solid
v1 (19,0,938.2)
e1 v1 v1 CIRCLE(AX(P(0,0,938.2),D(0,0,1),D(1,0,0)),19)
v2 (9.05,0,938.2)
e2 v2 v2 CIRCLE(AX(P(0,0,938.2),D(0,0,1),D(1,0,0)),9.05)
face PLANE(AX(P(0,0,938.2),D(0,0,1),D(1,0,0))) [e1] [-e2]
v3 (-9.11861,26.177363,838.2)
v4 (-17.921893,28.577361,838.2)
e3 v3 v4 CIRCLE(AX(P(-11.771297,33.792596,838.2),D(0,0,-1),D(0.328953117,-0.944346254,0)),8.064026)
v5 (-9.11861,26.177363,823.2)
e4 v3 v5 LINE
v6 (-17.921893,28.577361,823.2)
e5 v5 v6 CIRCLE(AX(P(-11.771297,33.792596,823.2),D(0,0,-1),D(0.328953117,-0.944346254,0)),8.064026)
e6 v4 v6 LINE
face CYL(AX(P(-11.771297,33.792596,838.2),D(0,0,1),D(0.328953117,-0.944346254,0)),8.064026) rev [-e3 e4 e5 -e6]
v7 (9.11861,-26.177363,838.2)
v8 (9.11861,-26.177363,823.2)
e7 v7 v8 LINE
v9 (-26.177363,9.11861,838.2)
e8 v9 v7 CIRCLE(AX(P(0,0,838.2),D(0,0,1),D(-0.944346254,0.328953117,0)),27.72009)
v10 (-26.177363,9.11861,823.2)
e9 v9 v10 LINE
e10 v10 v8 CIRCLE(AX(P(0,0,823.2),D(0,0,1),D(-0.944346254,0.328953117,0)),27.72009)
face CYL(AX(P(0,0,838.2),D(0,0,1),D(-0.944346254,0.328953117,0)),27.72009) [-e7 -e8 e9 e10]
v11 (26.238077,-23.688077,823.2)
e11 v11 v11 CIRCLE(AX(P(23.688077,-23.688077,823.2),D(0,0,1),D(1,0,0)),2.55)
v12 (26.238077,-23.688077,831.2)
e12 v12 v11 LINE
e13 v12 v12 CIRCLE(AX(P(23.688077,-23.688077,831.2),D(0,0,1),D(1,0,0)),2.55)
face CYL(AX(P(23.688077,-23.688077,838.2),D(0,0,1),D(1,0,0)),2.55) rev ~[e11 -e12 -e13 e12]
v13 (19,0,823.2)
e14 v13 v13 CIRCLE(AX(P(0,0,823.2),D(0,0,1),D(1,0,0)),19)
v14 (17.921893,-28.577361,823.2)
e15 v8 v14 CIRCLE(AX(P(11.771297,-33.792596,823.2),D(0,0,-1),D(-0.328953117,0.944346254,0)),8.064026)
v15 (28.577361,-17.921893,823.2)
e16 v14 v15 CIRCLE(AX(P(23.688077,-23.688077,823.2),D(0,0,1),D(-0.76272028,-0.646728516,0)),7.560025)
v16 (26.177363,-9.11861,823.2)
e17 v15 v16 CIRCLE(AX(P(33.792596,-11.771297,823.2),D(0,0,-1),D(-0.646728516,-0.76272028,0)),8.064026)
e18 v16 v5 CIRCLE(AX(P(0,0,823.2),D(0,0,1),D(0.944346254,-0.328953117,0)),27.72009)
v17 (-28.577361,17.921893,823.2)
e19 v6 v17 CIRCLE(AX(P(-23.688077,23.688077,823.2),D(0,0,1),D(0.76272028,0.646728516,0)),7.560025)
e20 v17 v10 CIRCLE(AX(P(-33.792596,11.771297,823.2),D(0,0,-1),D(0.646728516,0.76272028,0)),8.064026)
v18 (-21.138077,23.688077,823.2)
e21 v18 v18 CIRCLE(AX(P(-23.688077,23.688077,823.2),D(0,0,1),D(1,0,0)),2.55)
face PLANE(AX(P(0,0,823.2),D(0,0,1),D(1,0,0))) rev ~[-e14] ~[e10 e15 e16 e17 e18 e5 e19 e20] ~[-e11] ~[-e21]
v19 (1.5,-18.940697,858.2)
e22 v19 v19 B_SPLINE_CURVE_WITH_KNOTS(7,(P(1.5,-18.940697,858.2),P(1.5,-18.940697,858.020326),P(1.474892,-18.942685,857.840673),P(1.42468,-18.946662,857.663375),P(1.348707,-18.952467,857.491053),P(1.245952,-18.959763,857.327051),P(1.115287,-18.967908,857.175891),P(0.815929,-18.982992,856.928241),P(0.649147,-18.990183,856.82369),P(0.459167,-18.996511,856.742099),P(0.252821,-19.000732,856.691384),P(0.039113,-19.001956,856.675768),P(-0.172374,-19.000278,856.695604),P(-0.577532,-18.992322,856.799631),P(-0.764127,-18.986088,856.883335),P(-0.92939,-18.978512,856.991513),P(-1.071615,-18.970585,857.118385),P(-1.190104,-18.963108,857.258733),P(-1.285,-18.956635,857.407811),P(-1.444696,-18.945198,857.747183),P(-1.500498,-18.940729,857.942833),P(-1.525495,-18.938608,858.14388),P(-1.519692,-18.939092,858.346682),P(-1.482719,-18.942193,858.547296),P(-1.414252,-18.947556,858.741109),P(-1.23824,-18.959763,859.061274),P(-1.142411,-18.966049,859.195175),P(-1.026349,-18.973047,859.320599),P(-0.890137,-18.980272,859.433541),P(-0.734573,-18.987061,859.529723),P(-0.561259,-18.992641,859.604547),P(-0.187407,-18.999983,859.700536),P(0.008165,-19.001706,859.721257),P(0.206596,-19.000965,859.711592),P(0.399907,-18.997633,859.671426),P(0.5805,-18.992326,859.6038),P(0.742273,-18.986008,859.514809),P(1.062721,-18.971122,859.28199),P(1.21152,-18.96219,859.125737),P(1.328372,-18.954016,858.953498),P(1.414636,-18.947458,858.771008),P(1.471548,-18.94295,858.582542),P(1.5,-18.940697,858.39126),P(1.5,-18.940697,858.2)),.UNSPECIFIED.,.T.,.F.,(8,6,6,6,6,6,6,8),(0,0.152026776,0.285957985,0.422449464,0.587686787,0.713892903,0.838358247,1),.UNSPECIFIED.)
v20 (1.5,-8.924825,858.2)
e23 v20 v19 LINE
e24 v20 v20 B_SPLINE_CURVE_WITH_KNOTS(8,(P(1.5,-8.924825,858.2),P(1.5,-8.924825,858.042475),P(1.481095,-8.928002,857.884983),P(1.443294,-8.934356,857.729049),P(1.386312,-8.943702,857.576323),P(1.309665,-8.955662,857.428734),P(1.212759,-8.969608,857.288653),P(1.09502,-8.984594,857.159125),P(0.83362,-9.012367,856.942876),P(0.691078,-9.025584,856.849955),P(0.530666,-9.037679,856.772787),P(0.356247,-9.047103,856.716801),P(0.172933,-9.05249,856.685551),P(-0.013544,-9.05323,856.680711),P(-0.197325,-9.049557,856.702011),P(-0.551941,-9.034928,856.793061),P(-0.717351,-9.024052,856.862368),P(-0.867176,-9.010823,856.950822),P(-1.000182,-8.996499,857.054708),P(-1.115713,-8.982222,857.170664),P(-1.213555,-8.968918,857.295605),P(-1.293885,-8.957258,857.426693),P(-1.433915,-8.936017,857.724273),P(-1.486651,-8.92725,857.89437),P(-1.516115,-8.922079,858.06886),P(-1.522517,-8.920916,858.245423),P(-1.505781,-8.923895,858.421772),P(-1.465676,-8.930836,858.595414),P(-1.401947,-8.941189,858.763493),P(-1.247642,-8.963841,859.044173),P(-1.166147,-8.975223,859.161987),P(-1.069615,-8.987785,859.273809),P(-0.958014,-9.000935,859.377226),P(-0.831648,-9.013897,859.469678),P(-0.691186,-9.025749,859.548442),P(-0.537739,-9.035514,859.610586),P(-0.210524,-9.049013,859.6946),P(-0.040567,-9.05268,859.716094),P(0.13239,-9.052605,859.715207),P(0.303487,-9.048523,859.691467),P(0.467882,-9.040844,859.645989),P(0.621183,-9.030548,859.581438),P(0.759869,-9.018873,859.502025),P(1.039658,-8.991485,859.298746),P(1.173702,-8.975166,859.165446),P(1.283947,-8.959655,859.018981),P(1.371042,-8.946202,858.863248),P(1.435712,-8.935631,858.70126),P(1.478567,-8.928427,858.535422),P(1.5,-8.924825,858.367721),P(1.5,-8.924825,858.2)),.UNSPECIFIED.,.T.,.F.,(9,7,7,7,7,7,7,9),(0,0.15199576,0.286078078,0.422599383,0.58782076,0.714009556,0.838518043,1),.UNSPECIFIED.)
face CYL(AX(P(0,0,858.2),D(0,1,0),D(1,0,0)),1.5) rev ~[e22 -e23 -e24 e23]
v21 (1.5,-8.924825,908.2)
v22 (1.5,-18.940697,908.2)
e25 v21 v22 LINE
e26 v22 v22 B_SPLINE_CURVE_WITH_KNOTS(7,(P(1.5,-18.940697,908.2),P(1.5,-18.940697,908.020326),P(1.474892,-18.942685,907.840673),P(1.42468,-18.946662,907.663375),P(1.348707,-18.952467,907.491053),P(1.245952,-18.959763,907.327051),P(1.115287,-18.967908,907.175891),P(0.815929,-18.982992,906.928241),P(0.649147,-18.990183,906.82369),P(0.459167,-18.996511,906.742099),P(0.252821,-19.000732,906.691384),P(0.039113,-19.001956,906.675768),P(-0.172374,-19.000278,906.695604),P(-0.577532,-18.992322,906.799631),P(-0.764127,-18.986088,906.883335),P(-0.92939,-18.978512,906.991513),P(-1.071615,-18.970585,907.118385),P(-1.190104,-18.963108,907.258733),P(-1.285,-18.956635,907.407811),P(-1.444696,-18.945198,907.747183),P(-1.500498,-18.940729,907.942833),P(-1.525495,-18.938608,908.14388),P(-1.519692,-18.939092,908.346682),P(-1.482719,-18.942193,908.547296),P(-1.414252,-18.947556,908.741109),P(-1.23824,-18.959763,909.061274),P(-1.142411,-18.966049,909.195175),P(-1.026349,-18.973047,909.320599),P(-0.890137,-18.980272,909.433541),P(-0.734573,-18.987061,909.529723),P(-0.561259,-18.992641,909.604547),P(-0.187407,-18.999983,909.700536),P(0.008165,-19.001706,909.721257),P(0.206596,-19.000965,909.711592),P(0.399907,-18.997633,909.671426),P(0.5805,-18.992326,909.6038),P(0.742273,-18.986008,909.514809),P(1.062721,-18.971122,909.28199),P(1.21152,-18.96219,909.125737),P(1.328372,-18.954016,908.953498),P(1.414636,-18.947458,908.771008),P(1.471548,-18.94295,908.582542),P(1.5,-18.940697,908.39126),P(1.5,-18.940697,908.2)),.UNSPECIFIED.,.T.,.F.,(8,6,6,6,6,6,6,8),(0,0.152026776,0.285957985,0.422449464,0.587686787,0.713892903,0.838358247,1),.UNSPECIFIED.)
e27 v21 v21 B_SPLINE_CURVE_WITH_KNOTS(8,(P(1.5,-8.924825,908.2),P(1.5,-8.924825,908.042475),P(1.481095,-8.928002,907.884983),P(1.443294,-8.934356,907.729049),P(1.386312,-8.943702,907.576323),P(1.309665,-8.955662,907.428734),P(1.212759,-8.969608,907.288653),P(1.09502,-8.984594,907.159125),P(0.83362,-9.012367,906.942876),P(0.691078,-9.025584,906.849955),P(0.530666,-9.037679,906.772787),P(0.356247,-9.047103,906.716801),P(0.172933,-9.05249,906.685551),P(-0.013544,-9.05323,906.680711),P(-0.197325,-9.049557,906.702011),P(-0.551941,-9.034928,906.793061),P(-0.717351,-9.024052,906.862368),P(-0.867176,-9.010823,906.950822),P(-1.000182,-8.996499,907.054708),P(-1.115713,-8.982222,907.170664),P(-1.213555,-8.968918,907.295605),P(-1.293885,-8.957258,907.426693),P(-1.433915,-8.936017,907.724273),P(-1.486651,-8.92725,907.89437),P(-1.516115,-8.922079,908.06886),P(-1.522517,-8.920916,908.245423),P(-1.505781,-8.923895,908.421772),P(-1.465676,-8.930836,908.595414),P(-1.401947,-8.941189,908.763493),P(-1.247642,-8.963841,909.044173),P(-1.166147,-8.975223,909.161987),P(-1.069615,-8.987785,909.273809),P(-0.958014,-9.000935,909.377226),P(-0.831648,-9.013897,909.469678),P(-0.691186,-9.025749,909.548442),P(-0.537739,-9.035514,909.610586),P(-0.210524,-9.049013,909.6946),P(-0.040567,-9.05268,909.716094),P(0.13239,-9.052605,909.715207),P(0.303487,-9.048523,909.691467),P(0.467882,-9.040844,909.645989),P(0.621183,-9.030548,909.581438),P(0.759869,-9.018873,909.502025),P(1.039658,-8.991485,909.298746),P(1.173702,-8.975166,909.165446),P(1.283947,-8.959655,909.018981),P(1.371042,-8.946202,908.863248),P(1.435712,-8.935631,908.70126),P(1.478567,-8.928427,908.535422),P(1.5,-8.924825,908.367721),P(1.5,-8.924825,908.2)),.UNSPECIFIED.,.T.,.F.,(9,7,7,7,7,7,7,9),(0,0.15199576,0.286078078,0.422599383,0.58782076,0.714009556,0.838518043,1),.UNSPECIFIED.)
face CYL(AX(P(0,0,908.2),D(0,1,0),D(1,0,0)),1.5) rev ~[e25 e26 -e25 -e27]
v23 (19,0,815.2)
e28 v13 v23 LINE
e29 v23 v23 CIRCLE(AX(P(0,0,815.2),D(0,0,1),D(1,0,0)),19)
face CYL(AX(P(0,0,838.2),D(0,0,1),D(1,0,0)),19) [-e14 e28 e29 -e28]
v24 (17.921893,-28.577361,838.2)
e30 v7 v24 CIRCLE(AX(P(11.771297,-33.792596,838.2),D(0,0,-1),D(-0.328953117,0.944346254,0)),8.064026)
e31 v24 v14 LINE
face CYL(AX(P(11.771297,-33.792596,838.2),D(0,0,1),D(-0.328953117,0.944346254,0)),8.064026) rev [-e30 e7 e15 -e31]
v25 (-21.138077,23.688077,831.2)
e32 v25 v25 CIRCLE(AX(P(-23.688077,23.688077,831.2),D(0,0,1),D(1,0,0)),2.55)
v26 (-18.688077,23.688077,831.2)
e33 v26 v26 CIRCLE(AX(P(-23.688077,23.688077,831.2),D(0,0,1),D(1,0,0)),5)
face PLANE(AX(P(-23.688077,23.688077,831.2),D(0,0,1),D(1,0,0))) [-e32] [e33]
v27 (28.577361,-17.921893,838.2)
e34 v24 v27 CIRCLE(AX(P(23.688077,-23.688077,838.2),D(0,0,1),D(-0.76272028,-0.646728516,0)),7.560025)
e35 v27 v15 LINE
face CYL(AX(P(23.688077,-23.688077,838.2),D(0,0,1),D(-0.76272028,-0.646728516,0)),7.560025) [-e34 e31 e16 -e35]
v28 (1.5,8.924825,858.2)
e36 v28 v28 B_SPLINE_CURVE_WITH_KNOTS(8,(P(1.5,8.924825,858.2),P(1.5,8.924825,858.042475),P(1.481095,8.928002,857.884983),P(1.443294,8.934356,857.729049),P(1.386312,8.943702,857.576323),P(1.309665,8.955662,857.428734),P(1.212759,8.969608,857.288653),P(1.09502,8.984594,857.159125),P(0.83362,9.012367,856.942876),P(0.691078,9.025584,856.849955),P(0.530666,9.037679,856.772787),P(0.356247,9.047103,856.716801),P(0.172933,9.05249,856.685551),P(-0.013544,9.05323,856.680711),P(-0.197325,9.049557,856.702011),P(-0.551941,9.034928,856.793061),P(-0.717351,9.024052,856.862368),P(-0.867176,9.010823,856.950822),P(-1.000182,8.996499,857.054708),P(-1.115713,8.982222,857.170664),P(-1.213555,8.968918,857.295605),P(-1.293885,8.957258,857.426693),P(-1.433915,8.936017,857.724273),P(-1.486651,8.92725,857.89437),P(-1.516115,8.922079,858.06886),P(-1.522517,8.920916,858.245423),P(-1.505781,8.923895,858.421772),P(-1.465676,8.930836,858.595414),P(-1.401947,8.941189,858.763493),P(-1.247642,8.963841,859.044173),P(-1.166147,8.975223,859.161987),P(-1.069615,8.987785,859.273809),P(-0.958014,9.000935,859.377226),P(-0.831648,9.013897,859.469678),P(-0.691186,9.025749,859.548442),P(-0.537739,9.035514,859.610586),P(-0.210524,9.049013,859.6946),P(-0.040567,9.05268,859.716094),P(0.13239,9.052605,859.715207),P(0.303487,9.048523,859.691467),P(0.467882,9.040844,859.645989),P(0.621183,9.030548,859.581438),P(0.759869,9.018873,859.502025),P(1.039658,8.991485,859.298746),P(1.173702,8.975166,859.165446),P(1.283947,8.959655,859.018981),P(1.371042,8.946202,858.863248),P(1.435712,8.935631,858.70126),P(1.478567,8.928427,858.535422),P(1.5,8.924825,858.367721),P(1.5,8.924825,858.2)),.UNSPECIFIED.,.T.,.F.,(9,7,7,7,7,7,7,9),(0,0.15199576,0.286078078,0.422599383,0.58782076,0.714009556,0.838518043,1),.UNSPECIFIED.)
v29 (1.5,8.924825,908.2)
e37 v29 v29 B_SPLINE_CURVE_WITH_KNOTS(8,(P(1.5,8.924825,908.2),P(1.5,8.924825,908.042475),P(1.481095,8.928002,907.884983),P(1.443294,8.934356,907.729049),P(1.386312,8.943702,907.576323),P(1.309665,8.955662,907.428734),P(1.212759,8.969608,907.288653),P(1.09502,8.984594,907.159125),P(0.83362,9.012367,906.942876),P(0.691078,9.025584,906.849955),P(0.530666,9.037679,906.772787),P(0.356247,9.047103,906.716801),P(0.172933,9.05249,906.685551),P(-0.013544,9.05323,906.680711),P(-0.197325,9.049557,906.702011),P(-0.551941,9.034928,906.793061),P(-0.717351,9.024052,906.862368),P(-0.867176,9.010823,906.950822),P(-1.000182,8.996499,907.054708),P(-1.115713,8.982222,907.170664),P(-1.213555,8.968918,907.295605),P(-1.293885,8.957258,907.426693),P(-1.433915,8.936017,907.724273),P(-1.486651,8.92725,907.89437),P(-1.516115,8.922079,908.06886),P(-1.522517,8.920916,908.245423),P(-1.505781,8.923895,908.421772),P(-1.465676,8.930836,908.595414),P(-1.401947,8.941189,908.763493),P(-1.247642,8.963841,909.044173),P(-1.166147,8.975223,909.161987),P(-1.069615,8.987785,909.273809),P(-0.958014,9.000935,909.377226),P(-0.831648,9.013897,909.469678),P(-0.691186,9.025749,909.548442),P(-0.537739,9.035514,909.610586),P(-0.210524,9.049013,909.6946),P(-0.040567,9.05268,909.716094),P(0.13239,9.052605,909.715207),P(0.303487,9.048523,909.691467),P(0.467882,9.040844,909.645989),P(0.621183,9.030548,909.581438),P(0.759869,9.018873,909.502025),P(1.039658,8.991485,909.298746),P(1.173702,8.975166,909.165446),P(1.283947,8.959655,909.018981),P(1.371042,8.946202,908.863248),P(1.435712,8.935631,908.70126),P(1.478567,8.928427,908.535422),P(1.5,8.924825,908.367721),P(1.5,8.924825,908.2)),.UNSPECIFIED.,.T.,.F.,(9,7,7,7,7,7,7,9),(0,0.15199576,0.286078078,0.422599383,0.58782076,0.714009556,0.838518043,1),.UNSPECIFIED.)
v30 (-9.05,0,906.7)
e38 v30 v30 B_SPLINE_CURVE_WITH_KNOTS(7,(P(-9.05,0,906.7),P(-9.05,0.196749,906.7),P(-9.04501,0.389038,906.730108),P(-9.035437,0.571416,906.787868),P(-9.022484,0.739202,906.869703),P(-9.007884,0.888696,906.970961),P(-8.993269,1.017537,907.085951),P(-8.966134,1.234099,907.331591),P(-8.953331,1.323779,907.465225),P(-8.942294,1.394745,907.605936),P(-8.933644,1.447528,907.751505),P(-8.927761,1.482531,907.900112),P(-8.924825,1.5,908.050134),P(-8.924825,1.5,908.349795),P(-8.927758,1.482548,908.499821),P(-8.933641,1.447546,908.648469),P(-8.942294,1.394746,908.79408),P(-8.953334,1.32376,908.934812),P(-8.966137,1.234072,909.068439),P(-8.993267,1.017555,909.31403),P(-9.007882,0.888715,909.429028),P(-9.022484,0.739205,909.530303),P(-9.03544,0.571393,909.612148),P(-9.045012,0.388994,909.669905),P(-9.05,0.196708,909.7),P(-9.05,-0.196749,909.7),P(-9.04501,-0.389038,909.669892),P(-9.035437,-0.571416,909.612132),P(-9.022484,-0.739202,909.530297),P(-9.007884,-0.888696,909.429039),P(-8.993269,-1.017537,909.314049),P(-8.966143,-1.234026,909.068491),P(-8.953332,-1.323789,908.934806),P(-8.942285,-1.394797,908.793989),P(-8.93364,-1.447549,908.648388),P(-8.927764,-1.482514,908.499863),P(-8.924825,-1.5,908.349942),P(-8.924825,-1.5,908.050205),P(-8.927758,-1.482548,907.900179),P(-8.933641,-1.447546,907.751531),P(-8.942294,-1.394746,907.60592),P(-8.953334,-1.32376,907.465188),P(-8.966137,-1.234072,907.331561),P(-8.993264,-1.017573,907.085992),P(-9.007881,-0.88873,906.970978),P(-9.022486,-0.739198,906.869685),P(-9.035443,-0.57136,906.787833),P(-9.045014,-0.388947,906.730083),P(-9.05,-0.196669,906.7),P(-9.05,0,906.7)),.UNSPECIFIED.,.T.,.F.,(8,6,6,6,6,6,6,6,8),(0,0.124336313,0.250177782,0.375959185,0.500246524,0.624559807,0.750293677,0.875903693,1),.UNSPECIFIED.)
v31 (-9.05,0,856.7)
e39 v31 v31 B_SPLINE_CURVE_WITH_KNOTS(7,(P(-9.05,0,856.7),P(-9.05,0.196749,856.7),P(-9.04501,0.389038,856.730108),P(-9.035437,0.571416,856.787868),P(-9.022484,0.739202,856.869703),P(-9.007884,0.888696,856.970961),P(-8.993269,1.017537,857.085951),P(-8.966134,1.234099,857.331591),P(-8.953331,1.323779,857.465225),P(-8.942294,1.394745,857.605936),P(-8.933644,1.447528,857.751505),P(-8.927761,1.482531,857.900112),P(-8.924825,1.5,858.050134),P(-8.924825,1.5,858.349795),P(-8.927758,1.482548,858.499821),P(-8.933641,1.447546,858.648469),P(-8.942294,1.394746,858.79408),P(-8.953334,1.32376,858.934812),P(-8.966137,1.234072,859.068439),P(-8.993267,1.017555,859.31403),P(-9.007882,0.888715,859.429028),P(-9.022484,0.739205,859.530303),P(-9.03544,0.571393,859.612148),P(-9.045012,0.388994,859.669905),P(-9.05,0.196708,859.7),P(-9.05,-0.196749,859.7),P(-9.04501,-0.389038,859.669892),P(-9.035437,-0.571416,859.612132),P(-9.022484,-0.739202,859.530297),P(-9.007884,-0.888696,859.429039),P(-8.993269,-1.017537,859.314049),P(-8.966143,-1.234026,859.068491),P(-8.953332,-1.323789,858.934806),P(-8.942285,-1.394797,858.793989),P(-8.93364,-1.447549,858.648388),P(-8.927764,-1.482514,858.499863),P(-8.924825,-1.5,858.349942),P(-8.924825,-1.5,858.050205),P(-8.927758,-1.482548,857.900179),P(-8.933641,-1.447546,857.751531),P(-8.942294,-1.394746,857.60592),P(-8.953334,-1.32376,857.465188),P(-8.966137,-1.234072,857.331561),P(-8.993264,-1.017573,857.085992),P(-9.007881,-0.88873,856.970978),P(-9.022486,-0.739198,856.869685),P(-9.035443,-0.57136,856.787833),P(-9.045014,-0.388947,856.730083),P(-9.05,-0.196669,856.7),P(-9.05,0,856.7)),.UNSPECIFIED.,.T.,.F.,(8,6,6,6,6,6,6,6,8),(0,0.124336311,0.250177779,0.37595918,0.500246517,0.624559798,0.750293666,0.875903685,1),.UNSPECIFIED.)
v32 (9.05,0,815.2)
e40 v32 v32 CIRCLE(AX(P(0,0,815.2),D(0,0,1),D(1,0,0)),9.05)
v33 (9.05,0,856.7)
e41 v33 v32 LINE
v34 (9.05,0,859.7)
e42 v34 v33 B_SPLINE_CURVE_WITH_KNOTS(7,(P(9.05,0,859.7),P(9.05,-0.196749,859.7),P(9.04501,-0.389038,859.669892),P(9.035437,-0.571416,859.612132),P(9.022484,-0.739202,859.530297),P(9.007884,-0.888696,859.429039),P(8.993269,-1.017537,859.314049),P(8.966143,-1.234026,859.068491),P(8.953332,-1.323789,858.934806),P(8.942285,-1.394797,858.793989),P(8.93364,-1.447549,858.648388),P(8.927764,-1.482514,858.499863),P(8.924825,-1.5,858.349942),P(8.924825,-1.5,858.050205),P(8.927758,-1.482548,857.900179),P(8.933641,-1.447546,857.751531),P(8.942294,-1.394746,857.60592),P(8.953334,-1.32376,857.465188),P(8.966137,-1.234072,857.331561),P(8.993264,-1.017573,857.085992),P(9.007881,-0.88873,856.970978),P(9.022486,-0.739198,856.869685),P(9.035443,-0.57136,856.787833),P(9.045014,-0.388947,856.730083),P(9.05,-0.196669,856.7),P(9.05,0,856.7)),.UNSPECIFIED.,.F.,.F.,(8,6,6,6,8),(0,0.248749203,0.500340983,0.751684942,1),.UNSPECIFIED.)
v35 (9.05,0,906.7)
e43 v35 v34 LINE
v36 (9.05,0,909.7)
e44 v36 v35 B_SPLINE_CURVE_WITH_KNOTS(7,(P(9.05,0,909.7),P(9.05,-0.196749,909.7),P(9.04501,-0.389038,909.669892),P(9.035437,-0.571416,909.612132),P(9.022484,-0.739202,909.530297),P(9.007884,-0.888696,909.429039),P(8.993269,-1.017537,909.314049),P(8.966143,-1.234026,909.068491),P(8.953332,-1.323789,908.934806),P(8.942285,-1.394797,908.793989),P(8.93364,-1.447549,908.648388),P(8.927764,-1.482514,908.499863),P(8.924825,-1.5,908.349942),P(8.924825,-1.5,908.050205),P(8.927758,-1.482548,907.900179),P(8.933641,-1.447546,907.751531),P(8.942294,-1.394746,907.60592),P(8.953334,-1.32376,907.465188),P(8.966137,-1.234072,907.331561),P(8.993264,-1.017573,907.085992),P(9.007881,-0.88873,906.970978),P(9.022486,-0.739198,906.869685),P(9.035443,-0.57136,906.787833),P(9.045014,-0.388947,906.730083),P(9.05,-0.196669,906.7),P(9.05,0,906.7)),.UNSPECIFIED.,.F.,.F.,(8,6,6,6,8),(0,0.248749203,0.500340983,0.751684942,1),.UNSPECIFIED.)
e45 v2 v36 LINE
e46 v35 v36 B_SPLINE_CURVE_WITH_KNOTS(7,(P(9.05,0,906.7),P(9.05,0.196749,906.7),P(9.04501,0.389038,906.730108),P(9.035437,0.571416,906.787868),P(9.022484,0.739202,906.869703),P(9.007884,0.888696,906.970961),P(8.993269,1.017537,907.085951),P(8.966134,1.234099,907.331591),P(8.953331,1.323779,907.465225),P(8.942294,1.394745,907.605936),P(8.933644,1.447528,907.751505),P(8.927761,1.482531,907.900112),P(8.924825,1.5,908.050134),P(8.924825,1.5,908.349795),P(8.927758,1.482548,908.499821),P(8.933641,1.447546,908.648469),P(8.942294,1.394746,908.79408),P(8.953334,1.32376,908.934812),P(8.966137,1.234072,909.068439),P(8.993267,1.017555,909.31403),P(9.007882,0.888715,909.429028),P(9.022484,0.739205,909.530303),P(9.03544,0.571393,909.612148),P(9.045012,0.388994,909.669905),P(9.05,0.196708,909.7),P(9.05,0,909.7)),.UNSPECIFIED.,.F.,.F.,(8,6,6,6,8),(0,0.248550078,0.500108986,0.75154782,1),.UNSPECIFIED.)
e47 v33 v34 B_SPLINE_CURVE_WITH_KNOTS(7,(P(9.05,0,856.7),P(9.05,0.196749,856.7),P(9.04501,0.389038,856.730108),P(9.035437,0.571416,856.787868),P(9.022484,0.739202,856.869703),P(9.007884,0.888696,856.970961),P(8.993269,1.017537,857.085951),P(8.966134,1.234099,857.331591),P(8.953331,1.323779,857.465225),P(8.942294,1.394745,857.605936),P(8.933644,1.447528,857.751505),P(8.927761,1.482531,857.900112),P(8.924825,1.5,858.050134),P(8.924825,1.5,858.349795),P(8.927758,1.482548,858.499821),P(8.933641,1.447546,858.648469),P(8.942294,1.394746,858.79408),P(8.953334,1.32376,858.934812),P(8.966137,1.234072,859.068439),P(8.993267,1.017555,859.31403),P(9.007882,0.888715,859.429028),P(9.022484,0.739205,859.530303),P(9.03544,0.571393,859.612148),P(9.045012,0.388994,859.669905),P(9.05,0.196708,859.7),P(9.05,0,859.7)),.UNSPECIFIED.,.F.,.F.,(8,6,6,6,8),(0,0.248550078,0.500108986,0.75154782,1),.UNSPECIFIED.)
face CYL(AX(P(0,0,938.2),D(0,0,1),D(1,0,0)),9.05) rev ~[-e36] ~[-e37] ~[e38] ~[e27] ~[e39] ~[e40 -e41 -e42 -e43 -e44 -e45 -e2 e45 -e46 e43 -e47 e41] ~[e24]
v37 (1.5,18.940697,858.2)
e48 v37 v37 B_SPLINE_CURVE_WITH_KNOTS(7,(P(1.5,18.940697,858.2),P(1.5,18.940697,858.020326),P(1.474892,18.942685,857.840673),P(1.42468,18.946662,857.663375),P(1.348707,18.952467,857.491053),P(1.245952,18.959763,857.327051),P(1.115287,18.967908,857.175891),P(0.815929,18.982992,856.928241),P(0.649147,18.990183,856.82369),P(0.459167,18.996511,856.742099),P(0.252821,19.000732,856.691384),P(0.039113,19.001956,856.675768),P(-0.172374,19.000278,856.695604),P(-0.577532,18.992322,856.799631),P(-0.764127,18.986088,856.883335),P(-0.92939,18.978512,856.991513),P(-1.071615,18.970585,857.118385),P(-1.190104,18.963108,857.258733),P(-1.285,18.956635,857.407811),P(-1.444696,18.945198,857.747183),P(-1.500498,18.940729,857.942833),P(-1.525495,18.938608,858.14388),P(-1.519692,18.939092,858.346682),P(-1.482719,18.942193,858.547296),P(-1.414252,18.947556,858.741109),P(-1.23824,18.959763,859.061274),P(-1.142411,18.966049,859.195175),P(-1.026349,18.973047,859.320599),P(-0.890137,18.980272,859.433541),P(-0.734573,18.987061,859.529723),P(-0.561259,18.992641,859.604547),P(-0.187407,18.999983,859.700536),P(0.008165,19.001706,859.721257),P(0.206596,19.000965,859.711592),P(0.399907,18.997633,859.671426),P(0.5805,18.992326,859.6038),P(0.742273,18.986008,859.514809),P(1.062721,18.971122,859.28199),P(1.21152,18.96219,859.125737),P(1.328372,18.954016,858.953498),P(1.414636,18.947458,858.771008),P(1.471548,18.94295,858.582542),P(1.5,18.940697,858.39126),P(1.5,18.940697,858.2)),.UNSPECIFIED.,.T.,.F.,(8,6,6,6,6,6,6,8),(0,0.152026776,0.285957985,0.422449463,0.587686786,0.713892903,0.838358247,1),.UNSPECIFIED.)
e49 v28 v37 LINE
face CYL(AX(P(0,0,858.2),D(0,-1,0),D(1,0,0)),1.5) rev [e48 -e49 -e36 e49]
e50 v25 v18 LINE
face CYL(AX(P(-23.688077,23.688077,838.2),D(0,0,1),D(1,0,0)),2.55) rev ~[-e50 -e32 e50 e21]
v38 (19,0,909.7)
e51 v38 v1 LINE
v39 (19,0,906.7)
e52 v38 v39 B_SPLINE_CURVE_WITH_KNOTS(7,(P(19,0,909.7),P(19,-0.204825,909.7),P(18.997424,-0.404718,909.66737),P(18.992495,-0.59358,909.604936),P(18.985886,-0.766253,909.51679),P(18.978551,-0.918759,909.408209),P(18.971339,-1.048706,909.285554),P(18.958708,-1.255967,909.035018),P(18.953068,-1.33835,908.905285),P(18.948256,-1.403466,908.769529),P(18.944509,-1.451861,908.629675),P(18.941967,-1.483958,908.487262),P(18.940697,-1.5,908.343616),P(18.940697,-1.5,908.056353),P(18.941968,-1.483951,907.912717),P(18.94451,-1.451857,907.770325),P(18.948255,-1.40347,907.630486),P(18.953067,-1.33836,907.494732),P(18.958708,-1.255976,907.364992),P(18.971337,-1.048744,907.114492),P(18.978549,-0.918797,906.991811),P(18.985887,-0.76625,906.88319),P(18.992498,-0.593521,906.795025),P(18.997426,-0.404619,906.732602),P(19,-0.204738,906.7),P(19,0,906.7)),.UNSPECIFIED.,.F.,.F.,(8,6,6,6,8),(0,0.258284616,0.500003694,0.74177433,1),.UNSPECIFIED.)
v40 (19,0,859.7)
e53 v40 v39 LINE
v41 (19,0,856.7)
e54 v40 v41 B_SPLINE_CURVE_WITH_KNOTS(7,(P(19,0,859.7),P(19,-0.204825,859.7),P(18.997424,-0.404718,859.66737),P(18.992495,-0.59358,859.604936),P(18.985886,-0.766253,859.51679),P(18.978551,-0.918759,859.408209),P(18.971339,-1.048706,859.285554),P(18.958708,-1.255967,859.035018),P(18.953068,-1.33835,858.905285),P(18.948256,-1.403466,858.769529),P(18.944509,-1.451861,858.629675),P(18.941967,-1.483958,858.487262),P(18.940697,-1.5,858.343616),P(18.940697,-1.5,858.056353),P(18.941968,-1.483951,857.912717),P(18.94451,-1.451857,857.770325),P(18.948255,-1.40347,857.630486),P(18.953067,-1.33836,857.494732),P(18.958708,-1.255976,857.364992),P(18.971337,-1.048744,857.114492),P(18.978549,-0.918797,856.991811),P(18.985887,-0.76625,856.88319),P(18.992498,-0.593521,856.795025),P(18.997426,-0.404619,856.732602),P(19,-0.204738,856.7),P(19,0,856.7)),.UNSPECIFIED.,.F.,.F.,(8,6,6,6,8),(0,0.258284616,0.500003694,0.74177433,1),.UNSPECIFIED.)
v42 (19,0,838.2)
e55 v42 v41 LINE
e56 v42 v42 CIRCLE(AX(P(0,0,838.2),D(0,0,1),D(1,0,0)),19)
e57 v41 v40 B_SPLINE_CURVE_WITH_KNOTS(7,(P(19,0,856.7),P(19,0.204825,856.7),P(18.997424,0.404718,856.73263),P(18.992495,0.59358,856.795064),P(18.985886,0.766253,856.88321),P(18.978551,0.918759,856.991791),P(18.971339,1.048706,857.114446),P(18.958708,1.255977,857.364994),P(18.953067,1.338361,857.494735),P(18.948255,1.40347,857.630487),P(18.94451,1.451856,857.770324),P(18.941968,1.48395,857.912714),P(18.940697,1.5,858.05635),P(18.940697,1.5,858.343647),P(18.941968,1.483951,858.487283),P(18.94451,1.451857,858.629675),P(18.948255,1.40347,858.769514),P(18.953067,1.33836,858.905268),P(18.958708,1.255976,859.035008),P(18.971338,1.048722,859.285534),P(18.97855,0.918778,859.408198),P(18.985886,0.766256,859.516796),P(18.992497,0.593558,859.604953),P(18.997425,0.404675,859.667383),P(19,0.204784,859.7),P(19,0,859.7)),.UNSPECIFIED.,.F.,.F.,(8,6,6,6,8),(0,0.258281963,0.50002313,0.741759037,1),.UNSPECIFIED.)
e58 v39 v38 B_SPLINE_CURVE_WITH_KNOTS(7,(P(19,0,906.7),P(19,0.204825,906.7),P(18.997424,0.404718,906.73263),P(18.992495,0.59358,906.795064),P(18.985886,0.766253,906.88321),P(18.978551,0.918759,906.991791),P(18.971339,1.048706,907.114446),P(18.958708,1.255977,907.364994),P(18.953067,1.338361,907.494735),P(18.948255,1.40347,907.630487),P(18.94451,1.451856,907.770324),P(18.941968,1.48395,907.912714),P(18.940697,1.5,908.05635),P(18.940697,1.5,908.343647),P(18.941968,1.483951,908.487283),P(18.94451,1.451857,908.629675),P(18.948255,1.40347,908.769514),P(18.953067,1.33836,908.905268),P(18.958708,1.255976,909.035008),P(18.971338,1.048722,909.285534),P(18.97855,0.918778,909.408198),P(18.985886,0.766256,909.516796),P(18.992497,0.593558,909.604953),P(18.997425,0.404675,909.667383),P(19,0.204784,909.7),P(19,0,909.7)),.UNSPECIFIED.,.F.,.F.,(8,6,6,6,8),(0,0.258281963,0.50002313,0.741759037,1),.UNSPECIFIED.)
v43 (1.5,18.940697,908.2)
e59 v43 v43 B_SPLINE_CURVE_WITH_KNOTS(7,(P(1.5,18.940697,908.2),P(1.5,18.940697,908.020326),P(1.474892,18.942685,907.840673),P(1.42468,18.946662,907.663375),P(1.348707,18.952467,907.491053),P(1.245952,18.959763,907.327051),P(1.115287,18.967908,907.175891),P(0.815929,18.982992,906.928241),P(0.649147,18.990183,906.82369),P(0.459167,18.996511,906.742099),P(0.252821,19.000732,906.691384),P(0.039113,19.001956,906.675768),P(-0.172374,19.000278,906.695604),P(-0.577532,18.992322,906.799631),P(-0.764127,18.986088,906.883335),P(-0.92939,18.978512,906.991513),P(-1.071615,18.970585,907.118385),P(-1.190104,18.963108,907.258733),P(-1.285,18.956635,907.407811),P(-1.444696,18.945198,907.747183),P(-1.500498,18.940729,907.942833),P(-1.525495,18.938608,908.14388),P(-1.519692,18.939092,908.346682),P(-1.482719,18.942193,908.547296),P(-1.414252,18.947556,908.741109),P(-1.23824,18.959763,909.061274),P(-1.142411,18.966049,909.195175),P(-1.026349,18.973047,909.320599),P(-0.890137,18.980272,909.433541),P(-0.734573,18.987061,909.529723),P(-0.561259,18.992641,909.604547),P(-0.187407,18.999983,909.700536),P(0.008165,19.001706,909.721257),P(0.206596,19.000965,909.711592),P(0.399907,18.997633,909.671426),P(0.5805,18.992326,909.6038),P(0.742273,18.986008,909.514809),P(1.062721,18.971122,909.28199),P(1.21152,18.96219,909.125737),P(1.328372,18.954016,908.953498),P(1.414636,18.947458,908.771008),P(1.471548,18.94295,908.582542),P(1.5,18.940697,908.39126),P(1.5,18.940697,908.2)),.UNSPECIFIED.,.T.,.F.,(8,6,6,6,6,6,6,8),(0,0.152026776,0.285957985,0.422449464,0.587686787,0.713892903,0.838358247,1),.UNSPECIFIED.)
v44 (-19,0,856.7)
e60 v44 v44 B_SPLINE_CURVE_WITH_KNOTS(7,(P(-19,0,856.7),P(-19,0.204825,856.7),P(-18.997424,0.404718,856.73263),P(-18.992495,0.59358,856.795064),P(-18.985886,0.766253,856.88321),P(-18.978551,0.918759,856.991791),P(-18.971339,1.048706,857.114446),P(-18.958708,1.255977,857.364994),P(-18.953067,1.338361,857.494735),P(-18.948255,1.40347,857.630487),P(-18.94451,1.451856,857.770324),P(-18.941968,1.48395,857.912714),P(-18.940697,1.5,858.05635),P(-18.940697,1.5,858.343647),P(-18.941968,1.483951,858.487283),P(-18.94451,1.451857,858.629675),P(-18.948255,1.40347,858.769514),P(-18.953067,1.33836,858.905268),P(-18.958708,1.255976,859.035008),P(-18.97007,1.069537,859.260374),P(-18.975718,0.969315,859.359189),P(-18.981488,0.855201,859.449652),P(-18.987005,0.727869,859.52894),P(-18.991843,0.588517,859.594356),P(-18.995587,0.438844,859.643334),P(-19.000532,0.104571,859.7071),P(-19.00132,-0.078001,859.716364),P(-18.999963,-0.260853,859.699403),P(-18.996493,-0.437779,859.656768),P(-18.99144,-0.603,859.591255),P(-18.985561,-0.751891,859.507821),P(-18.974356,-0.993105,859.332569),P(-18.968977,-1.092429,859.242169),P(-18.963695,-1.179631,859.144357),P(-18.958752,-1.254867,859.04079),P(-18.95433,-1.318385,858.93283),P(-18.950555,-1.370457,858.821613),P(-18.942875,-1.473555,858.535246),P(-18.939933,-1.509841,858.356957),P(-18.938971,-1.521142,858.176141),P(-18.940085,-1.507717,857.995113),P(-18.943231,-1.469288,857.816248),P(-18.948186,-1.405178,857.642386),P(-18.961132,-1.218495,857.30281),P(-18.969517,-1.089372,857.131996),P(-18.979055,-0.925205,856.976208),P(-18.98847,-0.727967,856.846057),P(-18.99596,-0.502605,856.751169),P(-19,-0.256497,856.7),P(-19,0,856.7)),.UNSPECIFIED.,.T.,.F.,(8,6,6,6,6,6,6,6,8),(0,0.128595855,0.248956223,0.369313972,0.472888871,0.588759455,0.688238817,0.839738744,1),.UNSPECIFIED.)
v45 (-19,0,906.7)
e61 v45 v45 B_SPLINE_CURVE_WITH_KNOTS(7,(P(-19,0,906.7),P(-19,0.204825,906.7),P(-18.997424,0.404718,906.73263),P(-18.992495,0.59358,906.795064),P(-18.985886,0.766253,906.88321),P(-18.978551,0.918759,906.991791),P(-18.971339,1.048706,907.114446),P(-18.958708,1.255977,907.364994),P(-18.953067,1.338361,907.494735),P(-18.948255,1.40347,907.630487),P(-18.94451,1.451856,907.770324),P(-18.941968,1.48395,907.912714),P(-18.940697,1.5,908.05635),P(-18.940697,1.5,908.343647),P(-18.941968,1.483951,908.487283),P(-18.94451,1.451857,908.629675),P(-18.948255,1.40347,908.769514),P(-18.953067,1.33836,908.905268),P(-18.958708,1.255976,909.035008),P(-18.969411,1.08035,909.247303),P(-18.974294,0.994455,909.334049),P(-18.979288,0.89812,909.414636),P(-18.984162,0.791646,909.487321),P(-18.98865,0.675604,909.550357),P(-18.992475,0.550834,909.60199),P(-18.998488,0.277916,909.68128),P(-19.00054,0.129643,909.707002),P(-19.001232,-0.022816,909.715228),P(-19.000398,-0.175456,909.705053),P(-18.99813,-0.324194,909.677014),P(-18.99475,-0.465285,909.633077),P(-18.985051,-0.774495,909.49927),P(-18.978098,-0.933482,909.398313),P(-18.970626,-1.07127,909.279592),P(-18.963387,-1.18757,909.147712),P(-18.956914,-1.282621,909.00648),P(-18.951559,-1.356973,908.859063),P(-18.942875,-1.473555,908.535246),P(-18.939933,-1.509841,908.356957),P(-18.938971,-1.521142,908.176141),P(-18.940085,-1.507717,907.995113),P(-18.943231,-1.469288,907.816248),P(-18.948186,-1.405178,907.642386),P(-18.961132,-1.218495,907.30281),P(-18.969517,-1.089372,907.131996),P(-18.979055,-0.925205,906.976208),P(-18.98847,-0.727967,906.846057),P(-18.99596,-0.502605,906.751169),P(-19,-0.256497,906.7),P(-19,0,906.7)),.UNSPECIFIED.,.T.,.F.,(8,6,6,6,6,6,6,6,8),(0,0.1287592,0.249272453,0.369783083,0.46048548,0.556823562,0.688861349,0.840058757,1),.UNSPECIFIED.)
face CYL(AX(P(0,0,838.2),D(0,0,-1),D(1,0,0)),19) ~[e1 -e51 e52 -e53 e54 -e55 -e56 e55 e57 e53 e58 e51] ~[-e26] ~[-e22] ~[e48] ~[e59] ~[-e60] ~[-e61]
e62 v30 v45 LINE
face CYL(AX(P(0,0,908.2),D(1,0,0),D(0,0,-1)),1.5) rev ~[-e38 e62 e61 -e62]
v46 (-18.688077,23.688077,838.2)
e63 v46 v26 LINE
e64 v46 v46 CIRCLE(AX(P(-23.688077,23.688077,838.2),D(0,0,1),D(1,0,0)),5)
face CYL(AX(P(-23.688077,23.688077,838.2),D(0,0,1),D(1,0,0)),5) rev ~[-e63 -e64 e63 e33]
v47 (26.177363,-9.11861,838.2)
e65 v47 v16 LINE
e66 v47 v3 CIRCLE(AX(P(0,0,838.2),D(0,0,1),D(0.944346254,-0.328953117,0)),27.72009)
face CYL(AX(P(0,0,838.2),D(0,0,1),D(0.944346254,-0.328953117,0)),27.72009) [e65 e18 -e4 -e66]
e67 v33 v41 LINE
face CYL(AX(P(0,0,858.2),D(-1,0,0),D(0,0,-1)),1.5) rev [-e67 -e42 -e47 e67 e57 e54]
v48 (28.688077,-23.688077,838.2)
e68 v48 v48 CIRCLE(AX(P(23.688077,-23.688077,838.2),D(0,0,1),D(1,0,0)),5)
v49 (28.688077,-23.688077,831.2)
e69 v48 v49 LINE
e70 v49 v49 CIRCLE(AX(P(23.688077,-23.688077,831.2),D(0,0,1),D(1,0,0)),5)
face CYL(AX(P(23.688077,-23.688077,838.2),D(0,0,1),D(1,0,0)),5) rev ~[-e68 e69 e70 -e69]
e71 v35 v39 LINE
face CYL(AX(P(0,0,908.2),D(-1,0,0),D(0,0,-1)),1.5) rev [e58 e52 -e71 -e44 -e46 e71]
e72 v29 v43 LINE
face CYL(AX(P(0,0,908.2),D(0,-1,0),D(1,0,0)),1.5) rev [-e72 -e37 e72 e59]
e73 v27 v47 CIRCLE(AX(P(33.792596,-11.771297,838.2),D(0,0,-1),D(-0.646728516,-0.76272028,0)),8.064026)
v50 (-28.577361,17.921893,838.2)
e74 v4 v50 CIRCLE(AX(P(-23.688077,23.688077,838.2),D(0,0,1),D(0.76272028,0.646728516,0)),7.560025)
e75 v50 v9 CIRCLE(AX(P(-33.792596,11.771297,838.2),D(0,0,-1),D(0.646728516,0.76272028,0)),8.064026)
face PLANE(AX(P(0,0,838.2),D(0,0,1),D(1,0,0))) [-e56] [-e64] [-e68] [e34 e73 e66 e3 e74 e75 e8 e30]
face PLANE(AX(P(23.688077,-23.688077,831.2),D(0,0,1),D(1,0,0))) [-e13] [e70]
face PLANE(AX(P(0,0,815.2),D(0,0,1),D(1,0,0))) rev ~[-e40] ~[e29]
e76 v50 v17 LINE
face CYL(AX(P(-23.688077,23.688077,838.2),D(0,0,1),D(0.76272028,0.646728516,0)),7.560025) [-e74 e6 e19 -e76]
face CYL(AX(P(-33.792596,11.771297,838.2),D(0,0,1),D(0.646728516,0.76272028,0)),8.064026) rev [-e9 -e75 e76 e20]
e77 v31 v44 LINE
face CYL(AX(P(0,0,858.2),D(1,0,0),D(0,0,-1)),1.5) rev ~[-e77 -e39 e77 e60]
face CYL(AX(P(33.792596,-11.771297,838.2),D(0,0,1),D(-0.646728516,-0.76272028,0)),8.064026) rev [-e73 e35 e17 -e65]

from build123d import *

# Parameters (mm, degrees)
ESQUISSE1_R                  = 2.55
BOSS_EXTRU_1_DEPTH           = 15
ESQUISSE9_R                  = 19
BOSS_EXTRU_4_DEPTH           = 100
BOSS_EXTRU_4_DEPTH_BACK      = 23
ESQUISSE12_R                 = 9.05
ENL_V_MAT_EXTRU_2_DEPTH      = 124
ESQUISSE13_R                 = 5
ENL_V_MAT_EXTRU_3_DEPTH      = 7
ESQUISSE14_R                 = 1.5
ENL_V_MAT_EXTRU_4_DEPTH      = 32.248101798
ENL_V_MAT_EXTRU_4_DEPTH_BACK = 32.248101798
ESQUISSE15_R                 = 1.5
ENL_V_MAT_EXTRU_5_DEPTH      = 32.248101798
ENL_V_MAT_EXTRU_5_DEPTH_BACK = 32.248101798


with BuildPart() as part:
    # Esquisse1 → Boss.-Extru.1 (new body)
    with BuildSketch(Plane.XY.offset(838.2)):
        with BuildLine():
            ThreePointArc((-9.11861011, 26.177363431), (-13.892343586, 26.012514183), (-17.921893066, 28.577360682))
            ThreePointArc((-17.921893066, 28.577360682), (-29.033821851, 29.033821851), (-28.577360682, 17.921893066))
            ThreePointArc((-28.577360682, 17.921893066), (-26.012514183, 13.892343586), (-26.177363431, 9.11861011))
            ThreePointArc((-26.177363431, 9.11861011), (-19.60106383, -19.60106383), (9.11861011, -26.177363431))
            ThreePointArc((9.11861011, -26.177363431), (13.892343586, -26.012514183), (17.921893066, -28.577360682))
            ThreePointArc((17.921893066, -28.577360682), (29.033821851, -29.033821851), (28.577360682, -17.921893066))
            ThreePointArc((28.577360682, -17.921893066), (26.012514183, -13.892343586), (26.177363431, -9.11861011))
            ThreePointArc((26.177363431, -9.11861011), (19.60106383, 19.60106383), (-9.11861011, 26.177363431))
        make_face()
        with Locations((23.68807717, -23.68807717)):
            Circle(ESQUISSE1_R, mode=Mode.SUBTRACT)
        with Locations((-23.68807717, 23.68807717)):
            Circle(ESQUISSE1_R, mode=Mode.SUBTRACT)
    extrude(amount=-BOSS_EXTRU_1_DEPTH)

    # Esquisse9 → Boss.-Extru.4 (add, two sides)
    with BuildSketch(Plane.XY.offset(838.2)) as boss_extru_4_sk:
        Circle(ESQUISSE9_R)
    extrude(amount=BOSS_EXTRU_4_DEPTH)
    extrude(boss_extru_4_sk.sketch, amount=-BOSS_EXTRU_4_DEPTH_BACK)

    # Esquisse12 → Enlèv. mat.-Extru.2 (cut, through all)
    with BuildSketch(Plane.XY.offset(938.2)):
        Circle(ESQUISSE12_R)
    extrude(amount=-ENL_V_MAT_EXTRU_2_DEPTH, mode=Mode.SUBTRACT)

    # Esquisse13 → Enlèv. mat.-Extru.3 (cut)
    with BuildSketch(Plane.XY.offset(838.2)):
        with Locations((-23.68807717, 23.68807717)):
            Circle(ESQUISSE13_R)
        with Locations((23.68807717, -23.68807717)):
            Circle(ESQUISSE13_R)
    extrude(amount=-ENL_V_MAT_EXTRU_3_DEPTH, mode=Mode.SUBTRACT)

    # Esquisse14 → Enlèv. mat.-Extru.4 (cut, two sides)
    with BuildSketch(Plane(origin=(0, 0, 0), x_dir=(1, 0, 0), z_dir=(0, 1, 0))) as enl_v_mat_extru_4_sk:
        with Locations((0, -858.2)):
            Circle(ESQUISSE14_R)
        with Locations((0, -908.2)):
            Circle(ESQUISSE14_R)
    extrude(amount=ENL_V_MAT_EXTRU_4_DEPTH, mode=Mode.SUBTRACT)
    extrude(enl_v_mat_extru_4_sk.sketch, amount=-ENL_V_MAT_EXTRU_4_DEPTH_BACK, mode=Mode.SUBTRACT)

    # Esquisse15 → Enlèv. mat.-Extru.5 (cut, two sides)
    with BuildSketch(Plane(origin=(0, 0, 0), x_dir=(0, 0, -1), z_dir=(1, 0, 0))) as enl_v_mat_extru_5_sk:
        with Locations((-858.2, 0)):
            Circle(ESQUISSE15_R)
        with Locations((-908.2, 0)):
            Circle(ESQUISSE15_R)
    extrude(amount=ENL_V_MAT_EXTRU_5_DEPTH, mode=Mode.SUBTRACT)
    extrude(enl_v_mat_extru_5_sk.sketch, amount=-ENL_V_MAT_EXTRU_5_DEPTH_BACK, mode=Mode.SUBTRACT)


solid = part.part
